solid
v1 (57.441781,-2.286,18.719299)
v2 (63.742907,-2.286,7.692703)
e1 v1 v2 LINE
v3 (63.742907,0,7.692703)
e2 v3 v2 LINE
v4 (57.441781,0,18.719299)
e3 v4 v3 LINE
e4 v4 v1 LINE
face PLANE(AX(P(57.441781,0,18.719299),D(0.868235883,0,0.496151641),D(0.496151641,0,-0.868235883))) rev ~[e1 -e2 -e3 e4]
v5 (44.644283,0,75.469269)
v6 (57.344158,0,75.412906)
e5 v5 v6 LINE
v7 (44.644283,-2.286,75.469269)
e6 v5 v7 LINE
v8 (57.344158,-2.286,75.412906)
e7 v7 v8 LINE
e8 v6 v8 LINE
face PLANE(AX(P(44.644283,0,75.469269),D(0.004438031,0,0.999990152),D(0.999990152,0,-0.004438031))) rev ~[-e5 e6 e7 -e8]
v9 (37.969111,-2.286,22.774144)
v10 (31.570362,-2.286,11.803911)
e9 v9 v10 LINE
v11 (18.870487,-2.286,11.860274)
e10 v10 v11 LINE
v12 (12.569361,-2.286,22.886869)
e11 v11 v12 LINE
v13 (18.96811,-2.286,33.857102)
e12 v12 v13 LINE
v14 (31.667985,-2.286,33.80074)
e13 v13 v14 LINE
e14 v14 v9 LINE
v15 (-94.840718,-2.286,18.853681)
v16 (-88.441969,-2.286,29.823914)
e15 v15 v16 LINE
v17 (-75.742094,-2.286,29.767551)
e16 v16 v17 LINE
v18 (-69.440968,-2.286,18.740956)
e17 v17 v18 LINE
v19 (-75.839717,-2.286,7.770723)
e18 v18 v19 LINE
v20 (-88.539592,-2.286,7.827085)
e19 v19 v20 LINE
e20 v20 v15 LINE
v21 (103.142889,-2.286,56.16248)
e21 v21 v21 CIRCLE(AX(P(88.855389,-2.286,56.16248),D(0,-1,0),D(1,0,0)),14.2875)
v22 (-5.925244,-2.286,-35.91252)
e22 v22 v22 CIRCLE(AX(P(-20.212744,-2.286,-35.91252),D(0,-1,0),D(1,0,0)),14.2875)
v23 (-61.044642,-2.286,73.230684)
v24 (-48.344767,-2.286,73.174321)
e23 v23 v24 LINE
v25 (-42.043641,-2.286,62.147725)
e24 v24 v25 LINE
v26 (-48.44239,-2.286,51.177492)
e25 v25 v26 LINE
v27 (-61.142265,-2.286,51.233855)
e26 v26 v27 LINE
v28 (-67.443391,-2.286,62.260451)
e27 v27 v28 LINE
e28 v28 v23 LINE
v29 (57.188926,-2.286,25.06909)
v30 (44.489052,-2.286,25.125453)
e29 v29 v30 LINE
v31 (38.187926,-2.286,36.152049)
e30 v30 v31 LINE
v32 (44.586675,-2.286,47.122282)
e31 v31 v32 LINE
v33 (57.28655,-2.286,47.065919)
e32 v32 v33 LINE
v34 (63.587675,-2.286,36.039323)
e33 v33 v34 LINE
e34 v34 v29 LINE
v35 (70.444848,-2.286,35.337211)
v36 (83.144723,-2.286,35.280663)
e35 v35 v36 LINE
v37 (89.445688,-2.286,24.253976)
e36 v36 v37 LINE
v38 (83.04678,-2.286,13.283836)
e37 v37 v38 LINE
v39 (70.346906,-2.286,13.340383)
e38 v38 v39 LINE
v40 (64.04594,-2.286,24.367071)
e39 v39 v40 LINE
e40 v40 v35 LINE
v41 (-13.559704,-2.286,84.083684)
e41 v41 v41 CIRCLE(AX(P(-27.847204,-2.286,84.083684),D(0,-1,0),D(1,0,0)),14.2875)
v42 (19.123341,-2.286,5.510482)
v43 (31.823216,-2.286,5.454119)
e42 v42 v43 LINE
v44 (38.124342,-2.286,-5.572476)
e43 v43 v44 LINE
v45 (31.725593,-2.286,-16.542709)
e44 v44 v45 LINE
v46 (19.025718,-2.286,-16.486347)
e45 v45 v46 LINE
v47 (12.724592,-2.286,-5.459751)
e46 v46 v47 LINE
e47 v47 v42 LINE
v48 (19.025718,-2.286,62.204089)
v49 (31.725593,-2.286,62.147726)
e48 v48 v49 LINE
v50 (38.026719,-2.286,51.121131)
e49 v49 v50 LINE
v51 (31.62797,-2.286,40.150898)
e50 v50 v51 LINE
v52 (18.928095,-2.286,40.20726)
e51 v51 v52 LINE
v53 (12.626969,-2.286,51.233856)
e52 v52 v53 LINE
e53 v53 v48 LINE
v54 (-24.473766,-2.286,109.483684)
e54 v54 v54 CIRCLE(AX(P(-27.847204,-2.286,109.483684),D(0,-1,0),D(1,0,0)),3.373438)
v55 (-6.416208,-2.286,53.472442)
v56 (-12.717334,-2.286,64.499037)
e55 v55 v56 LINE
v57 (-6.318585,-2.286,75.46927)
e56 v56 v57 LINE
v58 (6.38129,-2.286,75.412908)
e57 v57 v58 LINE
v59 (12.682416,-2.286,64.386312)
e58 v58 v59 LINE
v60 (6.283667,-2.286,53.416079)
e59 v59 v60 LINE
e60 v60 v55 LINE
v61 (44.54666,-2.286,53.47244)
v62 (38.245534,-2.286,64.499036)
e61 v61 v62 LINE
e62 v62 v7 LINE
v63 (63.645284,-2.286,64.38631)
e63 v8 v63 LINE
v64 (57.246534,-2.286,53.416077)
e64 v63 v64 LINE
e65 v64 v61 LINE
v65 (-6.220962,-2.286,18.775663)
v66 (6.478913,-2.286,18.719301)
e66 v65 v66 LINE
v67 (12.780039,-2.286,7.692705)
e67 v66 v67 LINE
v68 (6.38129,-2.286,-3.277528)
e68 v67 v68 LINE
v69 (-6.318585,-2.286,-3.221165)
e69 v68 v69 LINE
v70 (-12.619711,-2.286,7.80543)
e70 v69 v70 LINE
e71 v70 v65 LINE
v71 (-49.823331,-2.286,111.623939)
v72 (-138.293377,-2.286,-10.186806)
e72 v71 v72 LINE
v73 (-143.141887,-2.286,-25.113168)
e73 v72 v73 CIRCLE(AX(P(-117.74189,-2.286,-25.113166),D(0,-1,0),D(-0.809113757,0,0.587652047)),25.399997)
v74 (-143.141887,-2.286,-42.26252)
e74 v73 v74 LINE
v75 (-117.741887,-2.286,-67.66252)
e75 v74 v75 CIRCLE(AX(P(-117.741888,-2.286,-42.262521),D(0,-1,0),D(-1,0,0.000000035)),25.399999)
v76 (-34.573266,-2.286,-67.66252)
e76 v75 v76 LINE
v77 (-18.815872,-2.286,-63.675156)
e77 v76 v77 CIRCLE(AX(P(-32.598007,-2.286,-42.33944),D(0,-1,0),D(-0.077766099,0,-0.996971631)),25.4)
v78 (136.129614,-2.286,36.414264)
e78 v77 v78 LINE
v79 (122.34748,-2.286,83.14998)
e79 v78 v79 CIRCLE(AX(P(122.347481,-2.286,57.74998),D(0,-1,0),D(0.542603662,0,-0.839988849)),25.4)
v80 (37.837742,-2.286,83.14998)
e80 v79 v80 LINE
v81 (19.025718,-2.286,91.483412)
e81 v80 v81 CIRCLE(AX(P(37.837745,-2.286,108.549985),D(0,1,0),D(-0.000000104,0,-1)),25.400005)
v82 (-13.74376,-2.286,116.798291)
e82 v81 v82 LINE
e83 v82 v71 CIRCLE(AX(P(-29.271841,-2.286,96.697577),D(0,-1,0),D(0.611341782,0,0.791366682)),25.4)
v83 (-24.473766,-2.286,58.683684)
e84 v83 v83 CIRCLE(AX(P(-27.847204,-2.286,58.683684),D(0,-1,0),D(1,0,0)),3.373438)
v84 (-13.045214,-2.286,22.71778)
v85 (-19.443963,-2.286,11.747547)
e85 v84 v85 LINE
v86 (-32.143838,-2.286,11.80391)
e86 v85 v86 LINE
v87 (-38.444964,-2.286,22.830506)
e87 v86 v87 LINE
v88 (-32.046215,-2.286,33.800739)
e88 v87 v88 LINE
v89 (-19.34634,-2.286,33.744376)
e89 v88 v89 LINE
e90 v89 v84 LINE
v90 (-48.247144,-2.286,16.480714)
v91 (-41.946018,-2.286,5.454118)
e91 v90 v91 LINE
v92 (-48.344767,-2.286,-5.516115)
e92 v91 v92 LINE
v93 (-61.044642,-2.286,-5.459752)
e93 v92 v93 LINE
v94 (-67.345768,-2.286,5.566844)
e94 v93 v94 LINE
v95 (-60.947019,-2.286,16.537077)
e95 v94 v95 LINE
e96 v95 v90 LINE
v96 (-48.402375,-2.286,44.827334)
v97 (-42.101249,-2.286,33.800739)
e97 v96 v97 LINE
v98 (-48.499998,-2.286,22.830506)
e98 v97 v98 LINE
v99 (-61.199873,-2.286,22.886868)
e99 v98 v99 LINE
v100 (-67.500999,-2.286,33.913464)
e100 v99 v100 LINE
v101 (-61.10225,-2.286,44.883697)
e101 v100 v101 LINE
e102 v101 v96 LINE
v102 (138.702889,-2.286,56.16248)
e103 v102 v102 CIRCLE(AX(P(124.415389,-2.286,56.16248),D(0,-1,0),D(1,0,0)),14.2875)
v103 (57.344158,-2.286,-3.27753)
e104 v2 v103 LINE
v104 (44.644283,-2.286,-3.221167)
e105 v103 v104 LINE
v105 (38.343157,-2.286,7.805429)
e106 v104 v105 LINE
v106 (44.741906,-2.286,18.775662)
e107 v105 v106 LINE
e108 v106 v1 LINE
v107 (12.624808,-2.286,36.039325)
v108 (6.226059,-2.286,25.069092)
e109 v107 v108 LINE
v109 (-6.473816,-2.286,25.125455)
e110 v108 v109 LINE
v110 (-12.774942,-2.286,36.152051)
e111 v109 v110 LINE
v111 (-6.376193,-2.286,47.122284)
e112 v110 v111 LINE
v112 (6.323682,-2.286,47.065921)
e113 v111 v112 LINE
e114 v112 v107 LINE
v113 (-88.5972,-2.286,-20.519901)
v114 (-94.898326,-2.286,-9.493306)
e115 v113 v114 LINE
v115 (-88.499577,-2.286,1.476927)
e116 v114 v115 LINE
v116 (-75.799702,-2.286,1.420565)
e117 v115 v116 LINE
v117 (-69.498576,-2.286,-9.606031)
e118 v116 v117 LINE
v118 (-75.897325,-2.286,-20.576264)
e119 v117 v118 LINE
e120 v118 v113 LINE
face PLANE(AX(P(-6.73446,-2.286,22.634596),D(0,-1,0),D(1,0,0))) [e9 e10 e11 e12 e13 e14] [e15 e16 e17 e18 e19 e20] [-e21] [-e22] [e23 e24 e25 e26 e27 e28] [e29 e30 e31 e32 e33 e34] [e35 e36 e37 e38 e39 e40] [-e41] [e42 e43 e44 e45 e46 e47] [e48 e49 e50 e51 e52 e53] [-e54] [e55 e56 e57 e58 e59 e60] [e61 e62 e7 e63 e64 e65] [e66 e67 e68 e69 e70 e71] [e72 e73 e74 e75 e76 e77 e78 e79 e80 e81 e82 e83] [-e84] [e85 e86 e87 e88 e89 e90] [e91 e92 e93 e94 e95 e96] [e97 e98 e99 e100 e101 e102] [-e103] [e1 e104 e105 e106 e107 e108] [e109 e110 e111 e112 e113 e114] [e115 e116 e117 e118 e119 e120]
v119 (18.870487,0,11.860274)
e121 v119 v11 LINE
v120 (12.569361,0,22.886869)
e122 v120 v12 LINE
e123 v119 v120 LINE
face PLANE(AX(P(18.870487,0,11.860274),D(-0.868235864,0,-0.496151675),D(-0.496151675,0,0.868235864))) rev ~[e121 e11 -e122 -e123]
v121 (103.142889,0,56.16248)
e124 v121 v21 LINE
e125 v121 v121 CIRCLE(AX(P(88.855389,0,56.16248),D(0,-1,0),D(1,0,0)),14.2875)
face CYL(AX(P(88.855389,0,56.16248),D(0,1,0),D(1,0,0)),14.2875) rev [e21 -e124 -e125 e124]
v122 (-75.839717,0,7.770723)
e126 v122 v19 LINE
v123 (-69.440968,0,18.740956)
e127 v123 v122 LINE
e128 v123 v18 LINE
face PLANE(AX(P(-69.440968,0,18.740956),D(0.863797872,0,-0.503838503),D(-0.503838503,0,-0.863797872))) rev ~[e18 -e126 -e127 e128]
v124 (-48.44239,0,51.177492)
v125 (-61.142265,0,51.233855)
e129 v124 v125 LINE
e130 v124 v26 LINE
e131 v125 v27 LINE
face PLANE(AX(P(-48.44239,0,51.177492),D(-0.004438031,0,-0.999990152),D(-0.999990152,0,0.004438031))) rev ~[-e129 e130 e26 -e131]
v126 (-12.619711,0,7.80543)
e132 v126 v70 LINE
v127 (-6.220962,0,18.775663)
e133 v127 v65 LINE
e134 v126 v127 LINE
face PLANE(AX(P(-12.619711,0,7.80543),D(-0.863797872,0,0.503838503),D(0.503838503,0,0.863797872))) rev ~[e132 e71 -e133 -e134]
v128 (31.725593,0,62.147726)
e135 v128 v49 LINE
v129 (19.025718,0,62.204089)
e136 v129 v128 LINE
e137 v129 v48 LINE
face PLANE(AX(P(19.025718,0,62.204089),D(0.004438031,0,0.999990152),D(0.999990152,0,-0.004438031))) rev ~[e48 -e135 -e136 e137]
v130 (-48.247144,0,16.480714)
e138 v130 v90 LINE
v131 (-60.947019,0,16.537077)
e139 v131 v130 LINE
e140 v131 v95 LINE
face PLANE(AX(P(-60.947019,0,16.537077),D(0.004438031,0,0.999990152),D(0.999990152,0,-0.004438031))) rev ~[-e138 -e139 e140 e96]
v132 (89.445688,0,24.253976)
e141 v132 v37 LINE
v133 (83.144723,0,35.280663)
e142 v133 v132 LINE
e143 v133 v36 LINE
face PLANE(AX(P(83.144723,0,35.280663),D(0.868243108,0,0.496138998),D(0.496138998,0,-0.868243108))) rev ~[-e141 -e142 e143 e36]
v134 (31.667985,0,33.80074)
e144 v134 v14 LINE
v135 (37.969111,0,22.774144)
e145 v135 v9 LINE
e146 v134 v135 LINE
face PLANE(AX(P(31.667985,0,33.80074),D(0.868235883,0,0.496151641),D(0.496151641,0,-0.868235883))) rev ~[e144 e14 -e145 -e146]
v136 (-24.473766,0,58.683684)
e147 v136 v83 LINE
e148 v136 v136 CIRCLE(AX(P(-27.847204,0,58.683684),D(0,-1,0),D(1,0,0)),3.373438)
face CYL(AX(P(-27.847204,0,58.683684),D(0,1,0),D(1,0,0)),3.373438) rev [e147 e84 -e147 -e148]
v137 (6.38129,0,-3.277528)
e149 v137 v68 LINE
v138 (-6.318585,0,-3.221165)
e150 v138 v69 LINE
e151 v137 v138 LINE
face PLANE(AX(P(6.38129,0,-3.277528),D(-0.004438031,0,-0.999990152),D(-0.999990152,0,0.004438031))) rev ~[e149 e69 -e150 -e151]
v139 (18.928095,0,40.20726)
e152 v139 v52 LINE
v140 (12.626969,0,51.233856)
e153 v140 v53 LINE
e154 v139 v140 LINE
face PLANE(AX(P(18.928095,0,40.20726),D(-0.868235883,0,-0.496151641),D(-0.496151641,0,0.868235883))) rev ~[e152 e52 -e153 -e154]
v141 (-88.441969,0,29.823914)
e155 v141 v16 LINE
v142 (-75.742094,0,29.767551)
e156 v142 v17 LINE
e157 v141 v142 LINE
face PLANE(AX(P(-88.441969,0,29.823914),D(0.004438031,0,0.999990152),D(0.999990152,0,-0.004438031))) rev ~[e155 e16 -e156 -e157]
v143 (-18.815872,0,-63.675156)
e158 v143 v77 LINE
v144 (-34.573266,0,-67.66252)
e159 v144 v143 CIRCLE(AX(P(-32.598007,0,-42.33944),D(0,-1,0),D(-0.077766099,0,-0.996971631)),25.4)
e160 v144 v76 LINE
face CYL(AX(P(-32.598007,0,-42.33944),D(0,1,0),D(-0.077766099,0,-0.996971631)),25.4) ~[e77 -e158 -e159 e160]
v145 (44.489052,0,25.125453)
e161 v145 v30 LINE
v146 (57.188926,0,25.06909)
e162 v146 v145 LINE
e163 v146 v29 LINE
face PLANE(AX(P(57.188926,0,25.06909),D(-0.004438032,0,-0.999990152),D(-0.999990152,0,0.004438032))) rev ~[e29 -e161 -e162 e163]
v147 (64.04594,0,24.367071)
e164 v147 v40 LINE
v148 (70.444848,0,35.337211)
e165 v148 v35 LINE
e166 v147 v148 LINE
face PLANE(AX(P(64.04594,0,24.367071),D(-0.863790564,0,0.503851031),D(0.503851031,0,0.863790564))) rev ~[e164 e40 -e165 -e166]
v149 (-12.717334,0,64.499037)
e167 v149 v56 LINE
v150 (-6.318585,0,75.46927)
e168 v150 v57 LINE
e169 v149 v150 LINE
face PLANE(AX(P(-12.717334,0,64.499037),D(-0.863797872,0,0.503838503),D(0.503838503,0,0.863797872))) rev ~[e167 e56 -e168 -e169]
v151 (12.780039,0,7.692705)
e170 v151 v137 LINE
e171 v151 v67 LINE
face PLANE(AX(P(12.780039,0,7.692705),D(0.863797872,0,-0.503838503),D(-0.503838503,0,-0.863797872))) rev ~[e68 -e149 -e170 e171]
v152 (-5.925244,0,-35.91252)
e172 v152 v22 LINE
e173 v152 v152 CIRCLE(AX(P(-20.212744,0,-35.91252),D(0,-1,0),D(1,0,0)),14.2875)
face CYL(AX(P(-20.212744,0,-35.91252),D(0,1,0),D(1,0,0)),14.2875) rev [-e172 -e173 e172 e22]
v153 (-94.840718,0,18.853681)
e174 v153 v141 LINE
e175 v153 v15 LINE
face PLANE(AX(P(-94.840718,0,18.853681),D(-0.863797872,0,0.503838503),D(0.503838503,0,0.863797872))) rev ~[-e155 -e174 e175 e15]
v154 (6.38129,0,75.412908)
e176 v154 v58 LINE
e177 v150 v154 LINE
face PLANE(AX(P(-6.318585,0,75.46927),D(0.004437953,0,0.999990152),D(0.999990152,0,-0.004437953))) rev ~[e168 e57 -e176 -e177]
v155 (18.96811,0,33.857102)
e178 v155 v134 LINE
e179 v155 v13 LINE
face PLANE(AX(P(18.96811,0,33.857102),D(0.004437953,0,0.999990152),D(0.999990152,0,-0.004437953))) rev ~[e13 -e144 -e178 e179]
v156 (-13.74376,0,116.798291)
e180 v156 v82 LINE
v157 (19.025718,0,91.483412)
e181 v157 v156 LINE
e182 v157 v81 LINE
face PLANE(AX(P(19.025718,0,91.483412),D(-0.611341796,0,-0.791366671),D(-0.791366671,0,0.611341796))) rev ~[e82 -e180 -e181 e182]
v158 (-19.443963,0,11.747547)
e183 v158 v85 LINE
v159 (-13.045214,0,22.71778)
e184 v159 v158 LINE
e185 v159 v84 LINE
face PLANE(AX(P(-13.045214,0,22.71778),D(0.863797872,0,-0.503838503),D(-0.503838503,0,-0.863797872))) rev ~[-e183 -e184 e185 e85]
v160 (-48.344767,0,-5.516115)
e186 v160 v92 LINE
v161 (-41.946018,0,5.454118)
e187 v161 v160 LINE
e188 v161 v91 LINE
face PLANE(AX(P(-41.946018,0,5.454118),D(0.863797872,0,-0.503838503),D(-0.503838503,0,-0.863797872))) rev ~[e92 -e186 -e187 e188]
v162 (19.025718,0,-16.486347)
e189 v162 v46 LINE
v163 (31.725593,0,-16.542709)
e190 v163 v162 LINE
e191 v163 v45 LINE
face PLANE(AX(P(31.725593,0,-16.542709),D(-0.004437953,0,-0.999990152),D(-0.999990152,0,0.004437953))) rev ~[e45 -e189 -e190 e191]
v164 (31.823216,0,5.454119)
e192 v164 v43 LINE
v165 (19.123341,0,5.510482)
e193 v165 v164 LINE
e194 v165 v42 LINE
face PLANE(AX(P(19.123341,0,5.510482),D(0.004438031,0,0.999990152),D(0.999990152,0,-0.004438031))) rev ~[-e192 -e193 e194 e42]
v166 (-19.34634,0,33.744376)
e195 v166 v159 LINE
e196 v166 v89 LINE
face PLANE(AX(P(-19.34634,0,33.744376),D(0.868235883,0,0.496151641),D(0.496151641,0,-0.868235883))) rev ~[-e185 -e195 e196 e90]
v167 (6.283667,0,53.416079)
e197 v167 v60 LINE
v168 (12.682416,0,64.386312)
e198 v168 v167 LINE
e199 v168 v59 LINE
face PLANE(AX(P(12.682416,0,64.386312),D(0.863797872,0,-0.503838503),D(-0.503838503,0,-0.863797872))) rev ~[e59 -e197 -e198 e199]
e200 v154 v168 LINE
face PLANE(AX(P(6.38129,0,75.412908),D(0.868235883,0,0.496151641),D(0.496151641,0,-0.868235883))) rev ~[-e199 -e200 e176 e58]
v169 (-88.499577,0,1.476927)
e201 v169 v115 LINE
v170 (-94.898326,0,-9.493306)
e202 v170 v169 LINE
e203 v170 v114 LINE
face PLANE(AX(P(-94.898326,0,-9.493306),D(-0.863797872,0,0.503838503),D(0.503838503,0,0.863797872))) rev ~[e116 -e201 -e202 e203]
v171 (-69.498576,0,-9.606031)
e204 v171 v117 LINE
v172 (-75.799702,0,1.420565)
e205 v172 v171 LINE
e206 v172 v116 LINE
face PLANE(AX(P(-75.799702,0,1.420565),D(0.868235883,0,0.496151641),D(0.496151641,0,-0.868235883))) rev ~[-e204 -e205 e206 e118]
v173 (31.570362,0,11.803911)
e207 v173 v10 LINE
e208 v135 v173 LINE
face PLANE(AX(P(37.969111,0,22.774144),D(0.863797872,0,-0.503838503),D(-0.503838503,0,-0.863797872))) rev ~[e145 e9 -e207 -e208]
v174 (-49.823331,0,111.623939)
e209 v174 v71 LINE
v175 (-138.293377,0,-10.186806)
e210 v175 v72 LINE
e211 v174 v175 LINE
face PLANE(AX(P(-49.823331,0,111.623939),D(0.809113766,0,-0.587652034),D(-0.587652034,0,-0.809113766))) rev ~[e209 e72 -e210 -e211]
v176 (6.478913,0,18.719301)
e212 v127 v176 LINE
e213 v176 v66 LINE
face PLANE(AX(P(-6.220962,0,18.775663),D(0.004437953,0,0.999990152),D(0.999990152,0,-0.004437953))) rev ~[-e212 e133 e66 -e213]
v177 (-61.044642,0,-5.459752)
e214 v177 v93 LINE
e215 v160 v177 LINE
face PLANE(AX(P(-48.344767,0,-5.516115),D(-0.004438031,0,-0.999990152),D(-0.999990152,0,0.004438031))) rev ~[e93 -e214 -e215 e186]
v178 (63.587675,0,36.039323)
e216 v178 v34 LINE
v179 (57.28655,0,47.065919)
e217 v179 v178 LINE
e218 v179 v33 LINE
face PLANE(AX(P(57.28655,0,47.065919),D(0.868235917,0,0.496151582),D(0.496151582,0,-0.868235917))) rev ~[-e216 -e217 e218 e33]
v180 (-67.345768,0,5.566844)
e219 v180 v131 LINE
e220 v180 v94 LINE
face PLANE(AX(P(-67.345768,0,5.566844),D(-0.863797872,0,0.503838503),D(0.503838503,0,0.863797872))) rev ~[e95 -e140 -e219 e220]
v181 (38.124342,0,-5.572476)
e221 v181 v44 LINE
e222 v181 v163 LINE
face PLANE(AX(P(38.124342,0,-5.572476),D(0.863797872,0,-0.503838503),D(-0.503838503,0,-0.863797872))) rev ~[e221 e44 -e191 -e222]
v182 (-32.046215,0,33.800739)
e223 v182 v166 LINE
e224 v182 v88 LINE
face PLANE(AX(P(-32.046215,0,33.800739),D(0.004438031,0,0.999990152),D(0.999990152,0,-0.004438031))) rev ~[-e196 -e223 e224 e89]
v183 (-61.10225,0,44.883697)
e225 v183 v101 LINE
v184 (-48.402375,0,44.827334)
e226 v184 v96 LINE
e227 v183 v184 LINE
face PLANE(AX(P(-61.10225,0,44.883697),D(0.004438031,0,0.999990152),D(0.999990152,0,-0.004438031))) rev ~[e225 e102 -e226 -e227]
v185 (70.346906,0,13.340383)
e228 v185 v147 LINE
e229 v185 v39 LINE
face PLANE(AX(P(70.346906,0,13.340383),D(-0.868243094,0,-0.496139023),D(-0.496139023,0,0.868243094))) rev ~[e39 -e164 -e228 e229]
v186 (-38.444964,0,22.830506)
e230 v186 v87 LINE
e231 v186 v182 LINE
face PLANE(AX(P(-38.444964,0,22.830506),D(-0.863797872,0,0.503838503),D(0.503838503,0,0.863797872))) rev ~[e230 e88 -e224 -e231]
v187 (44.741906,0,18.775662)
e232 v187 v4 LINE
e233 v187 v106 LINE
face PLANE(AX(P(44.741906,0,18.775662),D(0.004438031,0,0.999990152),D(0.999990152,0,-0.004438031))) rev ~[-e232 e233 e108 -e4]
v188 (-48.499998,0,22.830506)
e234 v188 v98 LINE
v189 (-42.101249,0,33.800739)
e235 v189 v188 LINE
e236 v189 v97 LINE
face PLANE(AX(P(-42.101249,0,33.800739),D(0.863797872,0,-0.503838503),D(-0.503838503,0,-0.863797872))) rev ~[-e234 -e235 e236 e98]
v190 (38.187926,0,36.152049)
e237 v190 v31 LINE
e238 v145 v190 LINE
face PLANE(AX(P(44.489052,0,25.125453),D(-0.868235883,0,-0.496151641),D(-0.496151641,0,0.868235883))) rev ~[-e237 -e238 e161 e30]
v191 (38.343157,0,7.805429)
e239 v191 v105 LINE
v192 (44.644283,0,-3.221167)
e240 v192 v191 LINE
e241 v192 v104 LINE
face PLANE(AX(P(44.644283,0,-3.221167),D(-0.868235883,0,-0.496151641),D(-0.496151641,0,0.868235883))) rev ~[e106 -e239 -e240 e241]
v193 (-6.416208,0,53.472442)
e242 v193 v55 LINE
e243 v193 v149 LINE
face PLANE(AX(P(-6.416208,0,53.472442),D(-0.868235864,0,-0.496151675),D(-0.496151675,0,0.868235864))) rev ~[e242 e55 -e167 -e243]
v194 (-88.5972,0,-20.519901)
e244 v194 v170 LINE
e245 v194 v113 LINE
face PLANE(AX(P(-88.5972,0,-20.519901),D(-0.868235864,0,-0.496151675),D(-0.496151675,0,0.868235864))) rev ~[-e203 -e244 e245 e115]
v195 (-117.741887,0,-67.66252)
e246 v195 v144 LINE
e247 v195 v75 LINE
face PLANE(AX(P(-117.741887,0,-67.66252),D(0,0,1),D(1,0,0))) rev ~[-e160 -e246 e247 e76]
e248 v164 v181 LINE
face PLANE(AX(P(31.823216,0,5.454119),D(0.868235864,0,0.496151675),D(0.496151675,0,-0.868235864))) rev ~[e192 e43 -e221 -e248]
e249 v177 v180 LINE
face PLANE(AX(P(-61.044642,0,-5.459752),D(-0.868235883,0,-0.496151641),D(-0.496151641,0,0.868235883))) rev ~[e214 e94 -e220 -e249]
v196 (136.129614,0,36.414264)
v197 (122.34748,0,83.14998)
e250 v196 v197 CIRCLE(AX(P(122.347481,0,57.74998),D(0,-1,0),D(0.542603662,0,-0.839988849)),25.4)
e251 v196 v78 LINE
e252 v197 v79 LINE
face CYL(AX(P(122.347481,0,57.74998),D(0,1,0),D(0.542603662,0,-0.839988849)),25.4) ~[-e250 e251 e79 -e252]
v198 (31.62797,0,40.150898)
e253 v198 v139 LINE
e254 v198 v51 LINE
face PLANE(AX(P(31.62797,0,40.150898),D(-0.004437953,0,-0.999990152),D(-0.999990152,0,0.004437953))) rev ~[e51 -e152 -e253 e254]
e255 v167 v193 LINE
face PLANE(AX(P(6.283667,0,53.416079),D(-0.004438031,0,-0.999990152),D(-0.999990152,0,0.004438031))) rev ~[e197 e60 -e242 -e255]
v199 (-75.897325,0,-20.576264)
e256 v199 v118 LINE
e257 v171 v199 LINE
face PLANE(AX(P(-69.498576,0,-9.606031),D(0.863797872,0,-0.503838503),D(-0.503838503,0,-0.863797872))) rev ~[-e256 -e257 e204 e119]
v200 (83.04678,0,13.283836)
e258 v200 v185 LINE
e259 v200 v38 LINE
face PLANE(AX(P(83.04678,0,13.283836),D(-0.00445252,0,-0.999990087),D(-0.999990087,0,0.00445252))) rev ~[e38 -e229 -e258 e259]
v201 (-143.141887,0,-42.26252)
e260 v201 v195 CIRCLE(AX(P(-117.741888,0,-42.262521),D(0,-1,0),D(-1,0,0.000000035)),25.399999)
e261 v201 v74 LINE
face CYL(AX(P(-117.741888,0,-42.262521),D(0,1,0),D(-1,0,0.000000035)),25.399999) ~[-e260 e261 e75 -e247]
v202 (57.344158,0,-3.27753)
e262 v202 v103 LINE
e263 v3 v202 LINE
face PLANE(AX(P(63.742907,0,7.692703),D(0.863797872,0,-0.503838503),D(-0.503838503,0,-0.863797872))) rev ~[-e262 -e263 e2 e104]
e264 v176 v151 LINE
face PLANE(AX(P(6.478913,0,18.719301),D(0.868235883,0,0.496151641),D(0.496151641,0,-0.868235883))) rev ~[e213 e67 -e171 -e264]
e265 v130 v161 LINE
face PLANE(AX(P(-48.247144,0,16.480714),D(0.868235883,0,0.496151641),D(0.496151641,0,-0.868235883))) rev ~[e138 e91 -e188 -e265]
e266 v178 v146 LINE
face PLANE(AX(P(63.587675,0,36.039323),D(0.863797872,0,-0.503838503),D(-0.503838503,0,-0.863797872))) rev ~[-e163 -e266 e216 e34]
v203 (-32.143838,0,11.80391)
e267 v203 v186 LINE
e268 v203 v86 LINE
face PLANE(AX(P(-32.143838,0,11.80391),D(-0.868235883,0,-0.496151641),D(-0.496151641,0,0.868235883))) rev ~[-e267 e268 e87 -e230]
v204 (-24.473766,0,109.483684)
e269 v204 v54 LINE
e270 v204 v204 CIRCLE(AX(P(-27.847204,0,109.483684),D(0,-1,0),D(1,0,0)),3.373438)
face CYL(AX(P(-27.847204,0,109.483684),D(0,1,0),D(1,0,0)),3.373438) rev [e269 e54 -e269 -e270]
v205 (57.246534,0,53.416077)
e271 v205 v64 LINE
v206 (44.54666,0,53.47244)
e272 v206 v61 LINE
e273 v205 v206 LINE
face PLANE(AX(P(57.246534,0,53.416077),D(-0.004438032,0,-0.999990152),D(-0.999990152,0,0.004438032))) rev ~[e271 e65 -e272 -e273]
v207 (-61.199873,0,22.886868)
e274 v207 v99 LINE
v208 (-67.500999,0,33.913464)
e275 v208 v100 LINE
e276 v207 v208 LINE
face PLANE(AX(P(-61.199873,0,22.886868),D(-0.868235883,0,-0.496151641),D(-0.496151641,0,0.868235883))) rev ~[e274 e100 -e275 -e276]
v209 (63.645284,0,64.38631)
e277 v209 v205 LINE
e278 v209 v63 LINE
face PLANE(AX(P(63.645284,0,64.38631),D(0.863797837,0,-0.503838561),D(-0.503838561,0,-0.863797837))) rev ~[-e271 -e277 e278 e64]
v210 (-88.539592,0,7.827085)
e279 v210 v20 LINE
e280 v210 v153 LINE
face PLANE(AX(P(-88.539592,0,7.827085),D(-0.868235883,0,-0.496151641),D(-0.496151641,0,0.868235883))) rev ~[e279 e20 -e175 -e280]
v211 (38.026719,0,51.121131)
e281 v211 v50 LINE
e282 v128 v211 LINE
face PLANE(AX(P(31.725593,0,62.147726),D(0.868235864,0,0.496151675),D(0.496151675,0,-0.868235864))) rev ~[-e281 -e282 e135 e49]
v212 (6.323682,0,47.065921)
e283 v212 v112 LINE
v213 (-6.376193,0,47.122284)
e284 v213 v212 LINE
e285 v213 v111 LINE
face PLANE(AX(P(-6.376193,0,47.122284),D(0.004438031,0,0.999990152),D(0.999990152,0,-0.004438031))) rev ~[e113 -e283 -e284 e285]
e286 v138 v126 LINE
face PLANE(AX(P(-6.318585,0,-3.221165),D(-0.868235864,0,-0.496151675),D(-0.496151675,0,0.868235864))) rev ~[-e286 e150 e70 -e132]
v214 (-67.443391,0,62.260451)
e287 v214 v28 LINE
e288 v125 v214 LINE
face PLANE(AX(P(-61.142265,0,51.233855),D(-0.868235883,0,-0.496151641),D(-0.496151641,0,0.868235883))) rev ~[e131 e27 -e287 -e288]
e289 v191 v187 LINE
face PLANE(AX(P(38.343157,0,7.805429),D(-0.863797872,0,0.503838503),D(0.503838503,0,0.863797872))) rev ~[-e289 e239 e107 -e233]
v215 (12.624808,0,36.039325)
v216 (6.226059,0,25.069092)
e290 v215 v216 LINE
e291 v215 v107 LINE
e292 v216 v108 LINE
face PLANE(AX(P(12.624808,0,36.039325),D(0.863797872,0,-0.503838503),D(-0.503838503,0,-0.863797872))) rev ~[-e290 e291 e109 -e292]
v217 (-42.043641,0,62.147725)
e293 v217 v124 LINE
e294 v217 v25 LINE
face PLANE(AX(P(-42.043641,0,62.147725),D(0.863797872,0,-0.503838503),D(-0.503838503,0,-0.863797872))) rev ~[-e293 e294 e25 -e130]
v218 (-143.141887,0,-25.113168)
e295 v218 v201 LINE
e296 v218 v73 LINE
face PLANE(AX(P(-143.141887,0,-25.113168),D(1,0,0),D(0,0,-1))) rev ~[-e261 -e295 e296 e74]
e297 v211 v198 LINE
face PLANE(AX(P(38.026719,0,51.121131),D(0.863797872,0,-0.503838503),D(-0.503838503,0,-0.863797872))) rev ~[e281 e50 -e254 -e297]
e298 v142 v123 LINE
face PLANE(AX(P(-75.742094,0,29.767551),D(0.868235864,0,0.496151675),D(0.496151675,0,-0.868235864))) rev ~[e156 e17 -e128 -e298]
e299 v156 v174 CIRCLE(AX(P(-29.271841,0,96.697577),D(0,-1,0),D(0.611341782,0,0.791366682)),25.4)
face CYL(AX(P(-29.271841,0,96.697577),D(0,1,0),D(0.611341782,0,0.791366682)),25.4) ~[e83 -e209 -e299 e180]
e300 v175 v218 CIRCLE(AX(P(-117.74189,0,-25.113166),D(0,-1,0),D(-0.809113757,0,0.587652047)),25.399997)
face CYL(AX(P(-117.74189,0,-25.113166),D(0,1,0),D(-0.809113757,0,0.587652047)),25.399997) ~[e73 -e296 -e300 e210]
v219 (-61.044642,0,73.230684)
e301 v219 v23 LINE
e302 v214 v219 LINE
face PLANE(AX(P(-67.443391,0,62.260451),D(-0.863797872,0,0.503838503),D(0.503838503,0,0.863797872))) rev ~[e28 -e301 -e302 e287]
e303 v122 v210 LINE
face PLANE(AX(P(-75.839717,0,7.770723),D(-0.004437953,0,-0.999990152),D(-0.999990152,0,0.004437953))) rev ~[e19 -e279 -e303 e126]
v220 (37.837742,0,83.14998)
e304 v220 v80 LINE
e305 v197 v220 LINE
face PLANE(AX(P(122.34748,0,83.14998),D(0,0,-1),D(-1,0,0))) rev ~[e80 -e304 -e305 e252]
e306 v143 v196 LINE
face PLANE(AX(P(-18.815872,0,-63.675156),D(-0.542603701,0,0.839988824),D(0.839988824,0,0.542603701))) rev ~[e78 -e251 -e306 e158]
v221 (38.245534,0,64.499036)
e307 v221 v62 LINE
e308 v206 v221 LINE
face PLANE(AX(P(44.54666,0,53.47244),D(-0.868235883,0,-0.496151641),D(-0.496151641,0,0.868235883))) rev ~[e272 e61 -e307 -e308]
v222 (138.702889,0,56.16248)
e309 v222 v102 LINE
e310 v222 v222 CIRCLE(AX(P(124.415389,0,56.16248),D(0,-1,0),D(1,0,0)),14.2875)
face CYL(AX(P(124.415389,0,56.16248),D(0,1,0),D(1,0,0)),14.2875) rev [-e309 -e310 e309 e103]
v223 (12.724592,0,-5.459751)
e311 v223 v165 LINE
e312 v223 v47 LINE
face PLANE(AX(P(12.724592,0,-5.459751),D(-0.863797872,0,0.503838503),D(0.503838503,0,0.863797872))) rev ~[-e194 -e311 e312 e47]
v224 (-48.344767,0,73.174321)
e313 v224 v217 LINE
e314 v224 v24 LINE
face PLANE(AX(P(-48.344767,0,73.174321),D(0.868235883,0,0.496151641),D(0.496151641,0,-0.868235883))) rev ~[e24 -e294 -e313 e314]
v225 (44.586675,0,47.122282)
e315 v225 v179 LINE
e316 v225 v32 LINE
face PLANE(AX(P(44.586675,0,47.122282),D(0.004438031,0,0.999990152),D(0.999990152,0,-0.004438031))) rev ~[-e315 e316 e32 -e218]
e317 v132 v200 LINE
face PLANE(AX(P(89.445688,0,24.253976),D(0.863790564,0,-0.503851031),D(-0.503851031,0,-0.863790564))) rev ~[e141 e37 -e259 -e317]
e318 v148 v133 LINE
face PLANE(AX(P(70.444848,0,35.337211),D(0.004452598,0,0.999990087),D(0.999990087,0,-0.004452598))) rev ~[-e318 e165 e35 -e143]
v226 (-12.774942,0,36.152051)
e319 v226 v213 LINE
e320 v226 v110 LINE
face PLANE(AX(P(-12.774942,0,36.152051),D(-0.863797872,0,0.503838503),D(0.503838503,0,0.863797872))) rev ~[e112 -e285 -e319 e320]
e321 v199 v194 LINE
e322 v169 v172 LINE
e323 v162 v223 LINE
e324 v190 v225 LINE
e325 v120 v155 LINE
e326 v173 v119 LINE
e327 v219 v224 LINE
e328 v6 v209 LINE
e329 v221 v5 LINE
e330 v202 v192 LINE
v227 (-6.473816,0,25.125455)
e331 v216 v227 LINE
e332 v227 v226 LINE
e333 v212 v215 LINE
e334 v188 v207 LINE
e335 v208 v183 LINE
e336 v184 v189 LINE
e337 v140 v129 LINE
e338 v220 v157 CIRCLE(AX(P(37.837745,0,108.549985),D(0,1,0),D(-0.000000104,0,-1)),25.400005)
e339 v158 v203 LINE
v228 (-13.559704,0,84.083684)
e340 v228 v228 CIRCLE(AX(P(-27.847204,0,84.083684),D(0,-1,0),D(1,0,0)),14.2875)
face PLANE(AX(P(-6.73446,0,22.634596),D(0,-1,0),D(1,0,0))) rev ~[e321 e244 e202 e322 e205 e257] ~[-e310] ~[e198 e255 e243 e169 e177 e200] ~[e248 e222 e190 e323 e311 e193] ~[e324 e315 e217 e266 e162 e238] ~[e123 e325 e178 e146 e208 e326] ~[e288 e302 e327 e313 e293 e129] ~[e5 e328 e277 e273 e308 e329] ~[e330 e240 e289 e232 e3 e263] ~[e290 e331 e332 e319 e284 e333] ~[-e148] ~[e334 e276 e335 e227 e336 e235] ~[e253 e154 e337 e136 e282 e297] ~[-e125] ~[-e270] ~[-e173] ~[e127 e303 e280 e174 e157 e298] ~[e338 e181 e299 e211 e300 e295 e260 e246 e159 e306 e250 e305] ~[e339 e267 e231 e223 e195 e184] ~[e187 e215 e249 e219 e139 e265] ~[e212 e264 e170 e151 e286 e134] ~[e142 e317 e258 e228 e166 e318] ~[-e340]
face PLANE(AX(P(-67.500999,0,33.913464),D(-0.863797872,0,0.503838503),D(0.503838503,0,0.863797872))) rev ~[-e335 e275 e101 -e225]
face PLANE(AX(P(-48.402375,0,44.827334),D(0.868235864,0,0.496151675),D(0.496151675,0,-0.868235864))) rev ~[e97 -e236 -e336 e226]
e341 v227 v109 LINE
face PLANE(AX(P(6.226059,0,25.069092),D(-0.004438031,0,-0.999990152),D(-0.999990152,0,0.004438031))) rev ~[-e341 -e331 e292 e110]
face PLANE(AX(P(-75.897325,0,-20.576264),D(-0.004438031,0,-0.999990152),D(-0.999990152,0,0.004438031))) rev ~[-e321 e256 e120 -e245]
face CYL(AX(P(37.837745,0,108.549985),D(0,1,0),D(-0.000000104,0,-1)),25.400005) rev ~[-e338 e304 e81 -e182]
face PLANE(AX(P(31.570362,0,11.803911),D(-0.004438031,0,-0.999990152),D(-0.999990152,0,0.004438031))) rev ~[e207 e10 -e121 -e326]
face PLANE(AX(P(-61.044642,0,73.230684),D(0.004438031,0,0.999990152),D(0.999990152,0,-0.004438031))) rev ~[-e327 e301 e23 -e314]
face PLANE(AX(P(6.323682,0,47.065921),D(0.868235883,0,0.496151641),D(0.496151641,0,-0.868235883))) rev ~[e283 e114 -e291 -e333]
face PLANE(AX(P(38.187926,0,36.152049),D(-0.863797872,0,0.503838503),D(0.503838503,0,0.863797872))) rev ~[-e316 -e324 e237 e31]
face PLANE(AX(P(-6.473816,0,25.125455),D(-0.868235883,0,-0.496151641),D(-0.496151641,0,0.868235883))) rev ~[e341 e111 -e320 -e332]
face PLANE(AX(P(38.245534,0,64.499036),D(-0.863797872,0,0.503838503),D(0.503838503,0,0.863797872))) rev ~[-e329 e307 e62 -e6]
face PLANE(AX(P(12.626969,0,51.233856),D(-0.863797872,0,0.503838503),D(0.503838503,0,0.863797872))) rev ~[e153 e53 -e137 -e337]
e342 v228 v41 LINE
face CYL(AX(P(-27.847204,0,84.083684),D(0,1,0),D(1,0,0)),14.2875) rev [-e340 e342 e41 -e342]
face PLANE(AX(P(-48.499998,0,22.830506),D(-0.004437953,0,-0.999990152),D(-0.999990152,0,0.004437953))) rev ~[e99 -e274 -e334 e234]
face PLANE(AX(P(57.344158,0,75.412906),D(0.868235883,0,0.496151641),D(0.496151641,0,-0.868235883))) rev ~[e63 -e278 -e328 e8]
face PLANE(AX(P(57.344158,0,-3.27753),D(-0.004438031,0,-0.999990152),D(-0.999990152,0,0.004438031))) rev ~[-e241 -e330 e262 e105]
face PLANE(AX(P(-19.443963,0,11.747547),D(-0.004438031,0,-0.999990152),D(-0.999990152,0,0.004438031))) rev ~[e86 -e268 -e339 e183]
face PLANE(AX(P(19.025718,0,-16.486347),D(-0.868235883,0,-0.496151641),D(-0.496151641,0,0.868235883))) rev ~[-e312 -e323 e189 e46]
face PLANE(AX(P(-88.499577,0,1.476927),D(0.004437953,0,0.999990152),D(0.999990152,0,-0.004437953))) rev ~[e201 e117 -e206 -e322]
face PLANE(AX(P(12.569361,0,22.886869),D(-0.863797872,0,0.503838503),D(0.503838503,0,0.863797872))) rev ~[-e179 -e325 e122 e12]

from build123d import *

# Parameters (mm, degrees)
F0_R     = 14.2875
F0_R_2   = 3.373438
F1_DEPTH = 2.286


with BuildPart() as f1:
    # F0 (on Front) → F1 (new body)
    with BuildSketch(Plane.XZ):
        with BuildLine():
            ThreePointArc((-34.573266, -67.66252), (-26.367008, -66.963304), (-18.815872, -63.675156))
            Line((-18.815872, -63.675156), (136.129614, 36.414264))
            ThreePointArc((136.129614, 36.414264), (146.710231, 64.934436), (122.34748, 83.14998))
            Line((122.34748, 83.14998), (37.837742, 83.14998))
            ThreePointArc((37.837742, 83.14998), (27.550148, 85.3266), (19.025718, 91.483412))
            Line((19.025718, 91.483412), (-13.74376, 116.798291))
            ThreePointArc((-13.74376, 116.798291), (-32.877689, 121.840327), (-49.823331, 111.623939))
            Line((-49.823331, 111.623939), (-138.293377, -10.186806))
            ThreePointArc((-138.293377, -10.186806), (-141.899369, -17.266125), (-143.141887, -25.113168))
            Line((-143.141887, -25.113168), (-143.141887, -42.26252))
            ThreePointArc((-143.141887, -42.26252), (-135.7024, -60.223032), (-117.741887, -67.66252))
            Line((-117.741887, -67.66252), (-34.573266, -67.66252))
        make_face()
        with Locations((-20.212744, -35.91252)):
            Circle(F0_R, mode=Mode.SUBTRACT)
        Polygon((-75.897325, -20.576264), (-88.5972, -20.519901), (-94.898326, -9.493306), (-88.499577, 1.476927), (-75.799702, 1.420565), (-69.498576, -9.606031), align=None, mode=Mode.SUBTRACT)
        Polygon((-75.839717, 7.770723), (-88.539592, 7.827085), (-94.840718, 18.853681), (-88.441969, 29.823914), (-75.742094, 29.767551), (-69.440968, 18.740956), align=None, mode=Mode.SUBTRACT)
        Polygon((-48.344767, -5.516115), (-61.044642, -5.459752), (-67.345768, 5.566844), (-60.947019, 16.537077), (-48.247144, 16.480714), (-41.946018, 5.454118), align=None, mode=Mode.SUBTRACT)
        Polygon((6.38129, -3.277528), (-6.318585, -3.221165), (-12.619711, 7.80543), (-6.220962, 18.775663), (6.478913, 18.719301), (12.780039, 7.692705), align=None, mode=Mode.SUBTRACT)
        Polygon((-19.443963, 11.747547), (-32.143838, 11.80391), (-38.444964, 22.830506), (-32.046215, 33.800739), (-19.34634, 33.744376), (-13.045214, 22.71778), align=None, mode=Mode.SUBTRACT)
        Polygon((31.725593, -16.542709), (19.025718, -16.486347), (12.724592, -5.459751), (19.123341, 5.510482), (31.823216, 5.454119), (38.124342, -5.572476), align=None, mode=Mode.SUBTRACT)
        Polygon((31.570362, 11.803911), (18.870487, 11.860274), (12.569361, 22.886869), (18.96811, 33.857102), (31.667985, 33.80074), (37.969111, 22.774144), align=None, mode=Mode.SUBTRACT)
        Polygon((57.344158, -3.27753), (44.644283, -3.221167), (38.343157, 7.805429), (44.741906, 18.775662), (57.441781, 18.719299), (63.742907, 7.692703), align=None, mode=Mode.SUBTRACT)
        Polygon((83.04678, 13.283836), (70.346906, 13.340383), (64.04594, 24.367071), (70.444848, 35.337211), (83.144723, 35.280663), (89.445688, 24.253976), align=None, mode=Mode.SUBTRACT)
        Polygon((-48.499998, 22.830506), (-61.199873, 22.886868), (-67.500999, 33.913464), (-61.10225, 44.883697), (-48.402375, 44.827334), (-42.101249, 33.800739), align=None, mode=Mode.SUBTRACT)
        Polygon((6.226059, 25.069092), (-6.473816, 25.125455), (-12.774942, 36.152051), (-6.376193, 47.122284), (6.323682, 47.065921), (12.624808, 36.039325), align=None, mode=Mode.SUBTRACT)
        Polygon((-48.44239, 51.177492), (-61.142265, 51.233855), (-67.443391, 62.260451), (-61.044642, 73.230684), (-48.344767, 73.174321), (-42.043641, 62.147725), align=None, mode=Mode.SUBTRACT)
        with Locations((-27.847204, 58.683684)):
            Circle(F0_R_2, mode=Mode.SUBTRACT)
        Polygon((6.283667, 53.416079), (-6.416208, 53.472442), (-12.717334, 64.499037), (-6.318585, 75.46927), (6.38129, 75.412908), (12.682416, 64.386312), align=None, mode=Mode.SUBTRACT)
        with Locations((-27.847204, 84.083684)):
            Circle(F0_R, mode=Mode.SUBTRACT)
        with Locations((-27.847204, 109.483684)):
            Circle(F0_R_2, mode=Mode.SUBTRACT)
        Polygon((57.188926, 25.06909), (44.489052, 25.125453), (38.187926, 36.152049), (44.586675, 47.122282), (57.28655, 47.065919), (63.587675, 36.039323), align=None, mode=Mode.SUBTRACT)
        Polygon((31.62797, 40.150898), (18.928095, 40.20726), (12.626969, 51.233856), (19.025718, 62.204089), (31.725593, 62.147726), (38.026719, 51.121131), align=None, mode=Mode.SUBTRACT)
        Polygon((57.246534, 53.416077), (44.54666, 53.47244), (38.245534, 64.499036), (44.644283, 75.469269), (57.344158, 75.412906), (63.645284, 64.38631), align=None, mode=Mode.SUBTRACT)
        with Locations((88.855389, 56.16248)):
            Circle(F0_R, mode=Mode.SUBTRACT)
        with Locations((124.415389, 56.16248)):
            Circle(F0_R, mode=Mode.SUBTRACT)
    extrude(amount=F1_DEPTH)


solid = f1.part
